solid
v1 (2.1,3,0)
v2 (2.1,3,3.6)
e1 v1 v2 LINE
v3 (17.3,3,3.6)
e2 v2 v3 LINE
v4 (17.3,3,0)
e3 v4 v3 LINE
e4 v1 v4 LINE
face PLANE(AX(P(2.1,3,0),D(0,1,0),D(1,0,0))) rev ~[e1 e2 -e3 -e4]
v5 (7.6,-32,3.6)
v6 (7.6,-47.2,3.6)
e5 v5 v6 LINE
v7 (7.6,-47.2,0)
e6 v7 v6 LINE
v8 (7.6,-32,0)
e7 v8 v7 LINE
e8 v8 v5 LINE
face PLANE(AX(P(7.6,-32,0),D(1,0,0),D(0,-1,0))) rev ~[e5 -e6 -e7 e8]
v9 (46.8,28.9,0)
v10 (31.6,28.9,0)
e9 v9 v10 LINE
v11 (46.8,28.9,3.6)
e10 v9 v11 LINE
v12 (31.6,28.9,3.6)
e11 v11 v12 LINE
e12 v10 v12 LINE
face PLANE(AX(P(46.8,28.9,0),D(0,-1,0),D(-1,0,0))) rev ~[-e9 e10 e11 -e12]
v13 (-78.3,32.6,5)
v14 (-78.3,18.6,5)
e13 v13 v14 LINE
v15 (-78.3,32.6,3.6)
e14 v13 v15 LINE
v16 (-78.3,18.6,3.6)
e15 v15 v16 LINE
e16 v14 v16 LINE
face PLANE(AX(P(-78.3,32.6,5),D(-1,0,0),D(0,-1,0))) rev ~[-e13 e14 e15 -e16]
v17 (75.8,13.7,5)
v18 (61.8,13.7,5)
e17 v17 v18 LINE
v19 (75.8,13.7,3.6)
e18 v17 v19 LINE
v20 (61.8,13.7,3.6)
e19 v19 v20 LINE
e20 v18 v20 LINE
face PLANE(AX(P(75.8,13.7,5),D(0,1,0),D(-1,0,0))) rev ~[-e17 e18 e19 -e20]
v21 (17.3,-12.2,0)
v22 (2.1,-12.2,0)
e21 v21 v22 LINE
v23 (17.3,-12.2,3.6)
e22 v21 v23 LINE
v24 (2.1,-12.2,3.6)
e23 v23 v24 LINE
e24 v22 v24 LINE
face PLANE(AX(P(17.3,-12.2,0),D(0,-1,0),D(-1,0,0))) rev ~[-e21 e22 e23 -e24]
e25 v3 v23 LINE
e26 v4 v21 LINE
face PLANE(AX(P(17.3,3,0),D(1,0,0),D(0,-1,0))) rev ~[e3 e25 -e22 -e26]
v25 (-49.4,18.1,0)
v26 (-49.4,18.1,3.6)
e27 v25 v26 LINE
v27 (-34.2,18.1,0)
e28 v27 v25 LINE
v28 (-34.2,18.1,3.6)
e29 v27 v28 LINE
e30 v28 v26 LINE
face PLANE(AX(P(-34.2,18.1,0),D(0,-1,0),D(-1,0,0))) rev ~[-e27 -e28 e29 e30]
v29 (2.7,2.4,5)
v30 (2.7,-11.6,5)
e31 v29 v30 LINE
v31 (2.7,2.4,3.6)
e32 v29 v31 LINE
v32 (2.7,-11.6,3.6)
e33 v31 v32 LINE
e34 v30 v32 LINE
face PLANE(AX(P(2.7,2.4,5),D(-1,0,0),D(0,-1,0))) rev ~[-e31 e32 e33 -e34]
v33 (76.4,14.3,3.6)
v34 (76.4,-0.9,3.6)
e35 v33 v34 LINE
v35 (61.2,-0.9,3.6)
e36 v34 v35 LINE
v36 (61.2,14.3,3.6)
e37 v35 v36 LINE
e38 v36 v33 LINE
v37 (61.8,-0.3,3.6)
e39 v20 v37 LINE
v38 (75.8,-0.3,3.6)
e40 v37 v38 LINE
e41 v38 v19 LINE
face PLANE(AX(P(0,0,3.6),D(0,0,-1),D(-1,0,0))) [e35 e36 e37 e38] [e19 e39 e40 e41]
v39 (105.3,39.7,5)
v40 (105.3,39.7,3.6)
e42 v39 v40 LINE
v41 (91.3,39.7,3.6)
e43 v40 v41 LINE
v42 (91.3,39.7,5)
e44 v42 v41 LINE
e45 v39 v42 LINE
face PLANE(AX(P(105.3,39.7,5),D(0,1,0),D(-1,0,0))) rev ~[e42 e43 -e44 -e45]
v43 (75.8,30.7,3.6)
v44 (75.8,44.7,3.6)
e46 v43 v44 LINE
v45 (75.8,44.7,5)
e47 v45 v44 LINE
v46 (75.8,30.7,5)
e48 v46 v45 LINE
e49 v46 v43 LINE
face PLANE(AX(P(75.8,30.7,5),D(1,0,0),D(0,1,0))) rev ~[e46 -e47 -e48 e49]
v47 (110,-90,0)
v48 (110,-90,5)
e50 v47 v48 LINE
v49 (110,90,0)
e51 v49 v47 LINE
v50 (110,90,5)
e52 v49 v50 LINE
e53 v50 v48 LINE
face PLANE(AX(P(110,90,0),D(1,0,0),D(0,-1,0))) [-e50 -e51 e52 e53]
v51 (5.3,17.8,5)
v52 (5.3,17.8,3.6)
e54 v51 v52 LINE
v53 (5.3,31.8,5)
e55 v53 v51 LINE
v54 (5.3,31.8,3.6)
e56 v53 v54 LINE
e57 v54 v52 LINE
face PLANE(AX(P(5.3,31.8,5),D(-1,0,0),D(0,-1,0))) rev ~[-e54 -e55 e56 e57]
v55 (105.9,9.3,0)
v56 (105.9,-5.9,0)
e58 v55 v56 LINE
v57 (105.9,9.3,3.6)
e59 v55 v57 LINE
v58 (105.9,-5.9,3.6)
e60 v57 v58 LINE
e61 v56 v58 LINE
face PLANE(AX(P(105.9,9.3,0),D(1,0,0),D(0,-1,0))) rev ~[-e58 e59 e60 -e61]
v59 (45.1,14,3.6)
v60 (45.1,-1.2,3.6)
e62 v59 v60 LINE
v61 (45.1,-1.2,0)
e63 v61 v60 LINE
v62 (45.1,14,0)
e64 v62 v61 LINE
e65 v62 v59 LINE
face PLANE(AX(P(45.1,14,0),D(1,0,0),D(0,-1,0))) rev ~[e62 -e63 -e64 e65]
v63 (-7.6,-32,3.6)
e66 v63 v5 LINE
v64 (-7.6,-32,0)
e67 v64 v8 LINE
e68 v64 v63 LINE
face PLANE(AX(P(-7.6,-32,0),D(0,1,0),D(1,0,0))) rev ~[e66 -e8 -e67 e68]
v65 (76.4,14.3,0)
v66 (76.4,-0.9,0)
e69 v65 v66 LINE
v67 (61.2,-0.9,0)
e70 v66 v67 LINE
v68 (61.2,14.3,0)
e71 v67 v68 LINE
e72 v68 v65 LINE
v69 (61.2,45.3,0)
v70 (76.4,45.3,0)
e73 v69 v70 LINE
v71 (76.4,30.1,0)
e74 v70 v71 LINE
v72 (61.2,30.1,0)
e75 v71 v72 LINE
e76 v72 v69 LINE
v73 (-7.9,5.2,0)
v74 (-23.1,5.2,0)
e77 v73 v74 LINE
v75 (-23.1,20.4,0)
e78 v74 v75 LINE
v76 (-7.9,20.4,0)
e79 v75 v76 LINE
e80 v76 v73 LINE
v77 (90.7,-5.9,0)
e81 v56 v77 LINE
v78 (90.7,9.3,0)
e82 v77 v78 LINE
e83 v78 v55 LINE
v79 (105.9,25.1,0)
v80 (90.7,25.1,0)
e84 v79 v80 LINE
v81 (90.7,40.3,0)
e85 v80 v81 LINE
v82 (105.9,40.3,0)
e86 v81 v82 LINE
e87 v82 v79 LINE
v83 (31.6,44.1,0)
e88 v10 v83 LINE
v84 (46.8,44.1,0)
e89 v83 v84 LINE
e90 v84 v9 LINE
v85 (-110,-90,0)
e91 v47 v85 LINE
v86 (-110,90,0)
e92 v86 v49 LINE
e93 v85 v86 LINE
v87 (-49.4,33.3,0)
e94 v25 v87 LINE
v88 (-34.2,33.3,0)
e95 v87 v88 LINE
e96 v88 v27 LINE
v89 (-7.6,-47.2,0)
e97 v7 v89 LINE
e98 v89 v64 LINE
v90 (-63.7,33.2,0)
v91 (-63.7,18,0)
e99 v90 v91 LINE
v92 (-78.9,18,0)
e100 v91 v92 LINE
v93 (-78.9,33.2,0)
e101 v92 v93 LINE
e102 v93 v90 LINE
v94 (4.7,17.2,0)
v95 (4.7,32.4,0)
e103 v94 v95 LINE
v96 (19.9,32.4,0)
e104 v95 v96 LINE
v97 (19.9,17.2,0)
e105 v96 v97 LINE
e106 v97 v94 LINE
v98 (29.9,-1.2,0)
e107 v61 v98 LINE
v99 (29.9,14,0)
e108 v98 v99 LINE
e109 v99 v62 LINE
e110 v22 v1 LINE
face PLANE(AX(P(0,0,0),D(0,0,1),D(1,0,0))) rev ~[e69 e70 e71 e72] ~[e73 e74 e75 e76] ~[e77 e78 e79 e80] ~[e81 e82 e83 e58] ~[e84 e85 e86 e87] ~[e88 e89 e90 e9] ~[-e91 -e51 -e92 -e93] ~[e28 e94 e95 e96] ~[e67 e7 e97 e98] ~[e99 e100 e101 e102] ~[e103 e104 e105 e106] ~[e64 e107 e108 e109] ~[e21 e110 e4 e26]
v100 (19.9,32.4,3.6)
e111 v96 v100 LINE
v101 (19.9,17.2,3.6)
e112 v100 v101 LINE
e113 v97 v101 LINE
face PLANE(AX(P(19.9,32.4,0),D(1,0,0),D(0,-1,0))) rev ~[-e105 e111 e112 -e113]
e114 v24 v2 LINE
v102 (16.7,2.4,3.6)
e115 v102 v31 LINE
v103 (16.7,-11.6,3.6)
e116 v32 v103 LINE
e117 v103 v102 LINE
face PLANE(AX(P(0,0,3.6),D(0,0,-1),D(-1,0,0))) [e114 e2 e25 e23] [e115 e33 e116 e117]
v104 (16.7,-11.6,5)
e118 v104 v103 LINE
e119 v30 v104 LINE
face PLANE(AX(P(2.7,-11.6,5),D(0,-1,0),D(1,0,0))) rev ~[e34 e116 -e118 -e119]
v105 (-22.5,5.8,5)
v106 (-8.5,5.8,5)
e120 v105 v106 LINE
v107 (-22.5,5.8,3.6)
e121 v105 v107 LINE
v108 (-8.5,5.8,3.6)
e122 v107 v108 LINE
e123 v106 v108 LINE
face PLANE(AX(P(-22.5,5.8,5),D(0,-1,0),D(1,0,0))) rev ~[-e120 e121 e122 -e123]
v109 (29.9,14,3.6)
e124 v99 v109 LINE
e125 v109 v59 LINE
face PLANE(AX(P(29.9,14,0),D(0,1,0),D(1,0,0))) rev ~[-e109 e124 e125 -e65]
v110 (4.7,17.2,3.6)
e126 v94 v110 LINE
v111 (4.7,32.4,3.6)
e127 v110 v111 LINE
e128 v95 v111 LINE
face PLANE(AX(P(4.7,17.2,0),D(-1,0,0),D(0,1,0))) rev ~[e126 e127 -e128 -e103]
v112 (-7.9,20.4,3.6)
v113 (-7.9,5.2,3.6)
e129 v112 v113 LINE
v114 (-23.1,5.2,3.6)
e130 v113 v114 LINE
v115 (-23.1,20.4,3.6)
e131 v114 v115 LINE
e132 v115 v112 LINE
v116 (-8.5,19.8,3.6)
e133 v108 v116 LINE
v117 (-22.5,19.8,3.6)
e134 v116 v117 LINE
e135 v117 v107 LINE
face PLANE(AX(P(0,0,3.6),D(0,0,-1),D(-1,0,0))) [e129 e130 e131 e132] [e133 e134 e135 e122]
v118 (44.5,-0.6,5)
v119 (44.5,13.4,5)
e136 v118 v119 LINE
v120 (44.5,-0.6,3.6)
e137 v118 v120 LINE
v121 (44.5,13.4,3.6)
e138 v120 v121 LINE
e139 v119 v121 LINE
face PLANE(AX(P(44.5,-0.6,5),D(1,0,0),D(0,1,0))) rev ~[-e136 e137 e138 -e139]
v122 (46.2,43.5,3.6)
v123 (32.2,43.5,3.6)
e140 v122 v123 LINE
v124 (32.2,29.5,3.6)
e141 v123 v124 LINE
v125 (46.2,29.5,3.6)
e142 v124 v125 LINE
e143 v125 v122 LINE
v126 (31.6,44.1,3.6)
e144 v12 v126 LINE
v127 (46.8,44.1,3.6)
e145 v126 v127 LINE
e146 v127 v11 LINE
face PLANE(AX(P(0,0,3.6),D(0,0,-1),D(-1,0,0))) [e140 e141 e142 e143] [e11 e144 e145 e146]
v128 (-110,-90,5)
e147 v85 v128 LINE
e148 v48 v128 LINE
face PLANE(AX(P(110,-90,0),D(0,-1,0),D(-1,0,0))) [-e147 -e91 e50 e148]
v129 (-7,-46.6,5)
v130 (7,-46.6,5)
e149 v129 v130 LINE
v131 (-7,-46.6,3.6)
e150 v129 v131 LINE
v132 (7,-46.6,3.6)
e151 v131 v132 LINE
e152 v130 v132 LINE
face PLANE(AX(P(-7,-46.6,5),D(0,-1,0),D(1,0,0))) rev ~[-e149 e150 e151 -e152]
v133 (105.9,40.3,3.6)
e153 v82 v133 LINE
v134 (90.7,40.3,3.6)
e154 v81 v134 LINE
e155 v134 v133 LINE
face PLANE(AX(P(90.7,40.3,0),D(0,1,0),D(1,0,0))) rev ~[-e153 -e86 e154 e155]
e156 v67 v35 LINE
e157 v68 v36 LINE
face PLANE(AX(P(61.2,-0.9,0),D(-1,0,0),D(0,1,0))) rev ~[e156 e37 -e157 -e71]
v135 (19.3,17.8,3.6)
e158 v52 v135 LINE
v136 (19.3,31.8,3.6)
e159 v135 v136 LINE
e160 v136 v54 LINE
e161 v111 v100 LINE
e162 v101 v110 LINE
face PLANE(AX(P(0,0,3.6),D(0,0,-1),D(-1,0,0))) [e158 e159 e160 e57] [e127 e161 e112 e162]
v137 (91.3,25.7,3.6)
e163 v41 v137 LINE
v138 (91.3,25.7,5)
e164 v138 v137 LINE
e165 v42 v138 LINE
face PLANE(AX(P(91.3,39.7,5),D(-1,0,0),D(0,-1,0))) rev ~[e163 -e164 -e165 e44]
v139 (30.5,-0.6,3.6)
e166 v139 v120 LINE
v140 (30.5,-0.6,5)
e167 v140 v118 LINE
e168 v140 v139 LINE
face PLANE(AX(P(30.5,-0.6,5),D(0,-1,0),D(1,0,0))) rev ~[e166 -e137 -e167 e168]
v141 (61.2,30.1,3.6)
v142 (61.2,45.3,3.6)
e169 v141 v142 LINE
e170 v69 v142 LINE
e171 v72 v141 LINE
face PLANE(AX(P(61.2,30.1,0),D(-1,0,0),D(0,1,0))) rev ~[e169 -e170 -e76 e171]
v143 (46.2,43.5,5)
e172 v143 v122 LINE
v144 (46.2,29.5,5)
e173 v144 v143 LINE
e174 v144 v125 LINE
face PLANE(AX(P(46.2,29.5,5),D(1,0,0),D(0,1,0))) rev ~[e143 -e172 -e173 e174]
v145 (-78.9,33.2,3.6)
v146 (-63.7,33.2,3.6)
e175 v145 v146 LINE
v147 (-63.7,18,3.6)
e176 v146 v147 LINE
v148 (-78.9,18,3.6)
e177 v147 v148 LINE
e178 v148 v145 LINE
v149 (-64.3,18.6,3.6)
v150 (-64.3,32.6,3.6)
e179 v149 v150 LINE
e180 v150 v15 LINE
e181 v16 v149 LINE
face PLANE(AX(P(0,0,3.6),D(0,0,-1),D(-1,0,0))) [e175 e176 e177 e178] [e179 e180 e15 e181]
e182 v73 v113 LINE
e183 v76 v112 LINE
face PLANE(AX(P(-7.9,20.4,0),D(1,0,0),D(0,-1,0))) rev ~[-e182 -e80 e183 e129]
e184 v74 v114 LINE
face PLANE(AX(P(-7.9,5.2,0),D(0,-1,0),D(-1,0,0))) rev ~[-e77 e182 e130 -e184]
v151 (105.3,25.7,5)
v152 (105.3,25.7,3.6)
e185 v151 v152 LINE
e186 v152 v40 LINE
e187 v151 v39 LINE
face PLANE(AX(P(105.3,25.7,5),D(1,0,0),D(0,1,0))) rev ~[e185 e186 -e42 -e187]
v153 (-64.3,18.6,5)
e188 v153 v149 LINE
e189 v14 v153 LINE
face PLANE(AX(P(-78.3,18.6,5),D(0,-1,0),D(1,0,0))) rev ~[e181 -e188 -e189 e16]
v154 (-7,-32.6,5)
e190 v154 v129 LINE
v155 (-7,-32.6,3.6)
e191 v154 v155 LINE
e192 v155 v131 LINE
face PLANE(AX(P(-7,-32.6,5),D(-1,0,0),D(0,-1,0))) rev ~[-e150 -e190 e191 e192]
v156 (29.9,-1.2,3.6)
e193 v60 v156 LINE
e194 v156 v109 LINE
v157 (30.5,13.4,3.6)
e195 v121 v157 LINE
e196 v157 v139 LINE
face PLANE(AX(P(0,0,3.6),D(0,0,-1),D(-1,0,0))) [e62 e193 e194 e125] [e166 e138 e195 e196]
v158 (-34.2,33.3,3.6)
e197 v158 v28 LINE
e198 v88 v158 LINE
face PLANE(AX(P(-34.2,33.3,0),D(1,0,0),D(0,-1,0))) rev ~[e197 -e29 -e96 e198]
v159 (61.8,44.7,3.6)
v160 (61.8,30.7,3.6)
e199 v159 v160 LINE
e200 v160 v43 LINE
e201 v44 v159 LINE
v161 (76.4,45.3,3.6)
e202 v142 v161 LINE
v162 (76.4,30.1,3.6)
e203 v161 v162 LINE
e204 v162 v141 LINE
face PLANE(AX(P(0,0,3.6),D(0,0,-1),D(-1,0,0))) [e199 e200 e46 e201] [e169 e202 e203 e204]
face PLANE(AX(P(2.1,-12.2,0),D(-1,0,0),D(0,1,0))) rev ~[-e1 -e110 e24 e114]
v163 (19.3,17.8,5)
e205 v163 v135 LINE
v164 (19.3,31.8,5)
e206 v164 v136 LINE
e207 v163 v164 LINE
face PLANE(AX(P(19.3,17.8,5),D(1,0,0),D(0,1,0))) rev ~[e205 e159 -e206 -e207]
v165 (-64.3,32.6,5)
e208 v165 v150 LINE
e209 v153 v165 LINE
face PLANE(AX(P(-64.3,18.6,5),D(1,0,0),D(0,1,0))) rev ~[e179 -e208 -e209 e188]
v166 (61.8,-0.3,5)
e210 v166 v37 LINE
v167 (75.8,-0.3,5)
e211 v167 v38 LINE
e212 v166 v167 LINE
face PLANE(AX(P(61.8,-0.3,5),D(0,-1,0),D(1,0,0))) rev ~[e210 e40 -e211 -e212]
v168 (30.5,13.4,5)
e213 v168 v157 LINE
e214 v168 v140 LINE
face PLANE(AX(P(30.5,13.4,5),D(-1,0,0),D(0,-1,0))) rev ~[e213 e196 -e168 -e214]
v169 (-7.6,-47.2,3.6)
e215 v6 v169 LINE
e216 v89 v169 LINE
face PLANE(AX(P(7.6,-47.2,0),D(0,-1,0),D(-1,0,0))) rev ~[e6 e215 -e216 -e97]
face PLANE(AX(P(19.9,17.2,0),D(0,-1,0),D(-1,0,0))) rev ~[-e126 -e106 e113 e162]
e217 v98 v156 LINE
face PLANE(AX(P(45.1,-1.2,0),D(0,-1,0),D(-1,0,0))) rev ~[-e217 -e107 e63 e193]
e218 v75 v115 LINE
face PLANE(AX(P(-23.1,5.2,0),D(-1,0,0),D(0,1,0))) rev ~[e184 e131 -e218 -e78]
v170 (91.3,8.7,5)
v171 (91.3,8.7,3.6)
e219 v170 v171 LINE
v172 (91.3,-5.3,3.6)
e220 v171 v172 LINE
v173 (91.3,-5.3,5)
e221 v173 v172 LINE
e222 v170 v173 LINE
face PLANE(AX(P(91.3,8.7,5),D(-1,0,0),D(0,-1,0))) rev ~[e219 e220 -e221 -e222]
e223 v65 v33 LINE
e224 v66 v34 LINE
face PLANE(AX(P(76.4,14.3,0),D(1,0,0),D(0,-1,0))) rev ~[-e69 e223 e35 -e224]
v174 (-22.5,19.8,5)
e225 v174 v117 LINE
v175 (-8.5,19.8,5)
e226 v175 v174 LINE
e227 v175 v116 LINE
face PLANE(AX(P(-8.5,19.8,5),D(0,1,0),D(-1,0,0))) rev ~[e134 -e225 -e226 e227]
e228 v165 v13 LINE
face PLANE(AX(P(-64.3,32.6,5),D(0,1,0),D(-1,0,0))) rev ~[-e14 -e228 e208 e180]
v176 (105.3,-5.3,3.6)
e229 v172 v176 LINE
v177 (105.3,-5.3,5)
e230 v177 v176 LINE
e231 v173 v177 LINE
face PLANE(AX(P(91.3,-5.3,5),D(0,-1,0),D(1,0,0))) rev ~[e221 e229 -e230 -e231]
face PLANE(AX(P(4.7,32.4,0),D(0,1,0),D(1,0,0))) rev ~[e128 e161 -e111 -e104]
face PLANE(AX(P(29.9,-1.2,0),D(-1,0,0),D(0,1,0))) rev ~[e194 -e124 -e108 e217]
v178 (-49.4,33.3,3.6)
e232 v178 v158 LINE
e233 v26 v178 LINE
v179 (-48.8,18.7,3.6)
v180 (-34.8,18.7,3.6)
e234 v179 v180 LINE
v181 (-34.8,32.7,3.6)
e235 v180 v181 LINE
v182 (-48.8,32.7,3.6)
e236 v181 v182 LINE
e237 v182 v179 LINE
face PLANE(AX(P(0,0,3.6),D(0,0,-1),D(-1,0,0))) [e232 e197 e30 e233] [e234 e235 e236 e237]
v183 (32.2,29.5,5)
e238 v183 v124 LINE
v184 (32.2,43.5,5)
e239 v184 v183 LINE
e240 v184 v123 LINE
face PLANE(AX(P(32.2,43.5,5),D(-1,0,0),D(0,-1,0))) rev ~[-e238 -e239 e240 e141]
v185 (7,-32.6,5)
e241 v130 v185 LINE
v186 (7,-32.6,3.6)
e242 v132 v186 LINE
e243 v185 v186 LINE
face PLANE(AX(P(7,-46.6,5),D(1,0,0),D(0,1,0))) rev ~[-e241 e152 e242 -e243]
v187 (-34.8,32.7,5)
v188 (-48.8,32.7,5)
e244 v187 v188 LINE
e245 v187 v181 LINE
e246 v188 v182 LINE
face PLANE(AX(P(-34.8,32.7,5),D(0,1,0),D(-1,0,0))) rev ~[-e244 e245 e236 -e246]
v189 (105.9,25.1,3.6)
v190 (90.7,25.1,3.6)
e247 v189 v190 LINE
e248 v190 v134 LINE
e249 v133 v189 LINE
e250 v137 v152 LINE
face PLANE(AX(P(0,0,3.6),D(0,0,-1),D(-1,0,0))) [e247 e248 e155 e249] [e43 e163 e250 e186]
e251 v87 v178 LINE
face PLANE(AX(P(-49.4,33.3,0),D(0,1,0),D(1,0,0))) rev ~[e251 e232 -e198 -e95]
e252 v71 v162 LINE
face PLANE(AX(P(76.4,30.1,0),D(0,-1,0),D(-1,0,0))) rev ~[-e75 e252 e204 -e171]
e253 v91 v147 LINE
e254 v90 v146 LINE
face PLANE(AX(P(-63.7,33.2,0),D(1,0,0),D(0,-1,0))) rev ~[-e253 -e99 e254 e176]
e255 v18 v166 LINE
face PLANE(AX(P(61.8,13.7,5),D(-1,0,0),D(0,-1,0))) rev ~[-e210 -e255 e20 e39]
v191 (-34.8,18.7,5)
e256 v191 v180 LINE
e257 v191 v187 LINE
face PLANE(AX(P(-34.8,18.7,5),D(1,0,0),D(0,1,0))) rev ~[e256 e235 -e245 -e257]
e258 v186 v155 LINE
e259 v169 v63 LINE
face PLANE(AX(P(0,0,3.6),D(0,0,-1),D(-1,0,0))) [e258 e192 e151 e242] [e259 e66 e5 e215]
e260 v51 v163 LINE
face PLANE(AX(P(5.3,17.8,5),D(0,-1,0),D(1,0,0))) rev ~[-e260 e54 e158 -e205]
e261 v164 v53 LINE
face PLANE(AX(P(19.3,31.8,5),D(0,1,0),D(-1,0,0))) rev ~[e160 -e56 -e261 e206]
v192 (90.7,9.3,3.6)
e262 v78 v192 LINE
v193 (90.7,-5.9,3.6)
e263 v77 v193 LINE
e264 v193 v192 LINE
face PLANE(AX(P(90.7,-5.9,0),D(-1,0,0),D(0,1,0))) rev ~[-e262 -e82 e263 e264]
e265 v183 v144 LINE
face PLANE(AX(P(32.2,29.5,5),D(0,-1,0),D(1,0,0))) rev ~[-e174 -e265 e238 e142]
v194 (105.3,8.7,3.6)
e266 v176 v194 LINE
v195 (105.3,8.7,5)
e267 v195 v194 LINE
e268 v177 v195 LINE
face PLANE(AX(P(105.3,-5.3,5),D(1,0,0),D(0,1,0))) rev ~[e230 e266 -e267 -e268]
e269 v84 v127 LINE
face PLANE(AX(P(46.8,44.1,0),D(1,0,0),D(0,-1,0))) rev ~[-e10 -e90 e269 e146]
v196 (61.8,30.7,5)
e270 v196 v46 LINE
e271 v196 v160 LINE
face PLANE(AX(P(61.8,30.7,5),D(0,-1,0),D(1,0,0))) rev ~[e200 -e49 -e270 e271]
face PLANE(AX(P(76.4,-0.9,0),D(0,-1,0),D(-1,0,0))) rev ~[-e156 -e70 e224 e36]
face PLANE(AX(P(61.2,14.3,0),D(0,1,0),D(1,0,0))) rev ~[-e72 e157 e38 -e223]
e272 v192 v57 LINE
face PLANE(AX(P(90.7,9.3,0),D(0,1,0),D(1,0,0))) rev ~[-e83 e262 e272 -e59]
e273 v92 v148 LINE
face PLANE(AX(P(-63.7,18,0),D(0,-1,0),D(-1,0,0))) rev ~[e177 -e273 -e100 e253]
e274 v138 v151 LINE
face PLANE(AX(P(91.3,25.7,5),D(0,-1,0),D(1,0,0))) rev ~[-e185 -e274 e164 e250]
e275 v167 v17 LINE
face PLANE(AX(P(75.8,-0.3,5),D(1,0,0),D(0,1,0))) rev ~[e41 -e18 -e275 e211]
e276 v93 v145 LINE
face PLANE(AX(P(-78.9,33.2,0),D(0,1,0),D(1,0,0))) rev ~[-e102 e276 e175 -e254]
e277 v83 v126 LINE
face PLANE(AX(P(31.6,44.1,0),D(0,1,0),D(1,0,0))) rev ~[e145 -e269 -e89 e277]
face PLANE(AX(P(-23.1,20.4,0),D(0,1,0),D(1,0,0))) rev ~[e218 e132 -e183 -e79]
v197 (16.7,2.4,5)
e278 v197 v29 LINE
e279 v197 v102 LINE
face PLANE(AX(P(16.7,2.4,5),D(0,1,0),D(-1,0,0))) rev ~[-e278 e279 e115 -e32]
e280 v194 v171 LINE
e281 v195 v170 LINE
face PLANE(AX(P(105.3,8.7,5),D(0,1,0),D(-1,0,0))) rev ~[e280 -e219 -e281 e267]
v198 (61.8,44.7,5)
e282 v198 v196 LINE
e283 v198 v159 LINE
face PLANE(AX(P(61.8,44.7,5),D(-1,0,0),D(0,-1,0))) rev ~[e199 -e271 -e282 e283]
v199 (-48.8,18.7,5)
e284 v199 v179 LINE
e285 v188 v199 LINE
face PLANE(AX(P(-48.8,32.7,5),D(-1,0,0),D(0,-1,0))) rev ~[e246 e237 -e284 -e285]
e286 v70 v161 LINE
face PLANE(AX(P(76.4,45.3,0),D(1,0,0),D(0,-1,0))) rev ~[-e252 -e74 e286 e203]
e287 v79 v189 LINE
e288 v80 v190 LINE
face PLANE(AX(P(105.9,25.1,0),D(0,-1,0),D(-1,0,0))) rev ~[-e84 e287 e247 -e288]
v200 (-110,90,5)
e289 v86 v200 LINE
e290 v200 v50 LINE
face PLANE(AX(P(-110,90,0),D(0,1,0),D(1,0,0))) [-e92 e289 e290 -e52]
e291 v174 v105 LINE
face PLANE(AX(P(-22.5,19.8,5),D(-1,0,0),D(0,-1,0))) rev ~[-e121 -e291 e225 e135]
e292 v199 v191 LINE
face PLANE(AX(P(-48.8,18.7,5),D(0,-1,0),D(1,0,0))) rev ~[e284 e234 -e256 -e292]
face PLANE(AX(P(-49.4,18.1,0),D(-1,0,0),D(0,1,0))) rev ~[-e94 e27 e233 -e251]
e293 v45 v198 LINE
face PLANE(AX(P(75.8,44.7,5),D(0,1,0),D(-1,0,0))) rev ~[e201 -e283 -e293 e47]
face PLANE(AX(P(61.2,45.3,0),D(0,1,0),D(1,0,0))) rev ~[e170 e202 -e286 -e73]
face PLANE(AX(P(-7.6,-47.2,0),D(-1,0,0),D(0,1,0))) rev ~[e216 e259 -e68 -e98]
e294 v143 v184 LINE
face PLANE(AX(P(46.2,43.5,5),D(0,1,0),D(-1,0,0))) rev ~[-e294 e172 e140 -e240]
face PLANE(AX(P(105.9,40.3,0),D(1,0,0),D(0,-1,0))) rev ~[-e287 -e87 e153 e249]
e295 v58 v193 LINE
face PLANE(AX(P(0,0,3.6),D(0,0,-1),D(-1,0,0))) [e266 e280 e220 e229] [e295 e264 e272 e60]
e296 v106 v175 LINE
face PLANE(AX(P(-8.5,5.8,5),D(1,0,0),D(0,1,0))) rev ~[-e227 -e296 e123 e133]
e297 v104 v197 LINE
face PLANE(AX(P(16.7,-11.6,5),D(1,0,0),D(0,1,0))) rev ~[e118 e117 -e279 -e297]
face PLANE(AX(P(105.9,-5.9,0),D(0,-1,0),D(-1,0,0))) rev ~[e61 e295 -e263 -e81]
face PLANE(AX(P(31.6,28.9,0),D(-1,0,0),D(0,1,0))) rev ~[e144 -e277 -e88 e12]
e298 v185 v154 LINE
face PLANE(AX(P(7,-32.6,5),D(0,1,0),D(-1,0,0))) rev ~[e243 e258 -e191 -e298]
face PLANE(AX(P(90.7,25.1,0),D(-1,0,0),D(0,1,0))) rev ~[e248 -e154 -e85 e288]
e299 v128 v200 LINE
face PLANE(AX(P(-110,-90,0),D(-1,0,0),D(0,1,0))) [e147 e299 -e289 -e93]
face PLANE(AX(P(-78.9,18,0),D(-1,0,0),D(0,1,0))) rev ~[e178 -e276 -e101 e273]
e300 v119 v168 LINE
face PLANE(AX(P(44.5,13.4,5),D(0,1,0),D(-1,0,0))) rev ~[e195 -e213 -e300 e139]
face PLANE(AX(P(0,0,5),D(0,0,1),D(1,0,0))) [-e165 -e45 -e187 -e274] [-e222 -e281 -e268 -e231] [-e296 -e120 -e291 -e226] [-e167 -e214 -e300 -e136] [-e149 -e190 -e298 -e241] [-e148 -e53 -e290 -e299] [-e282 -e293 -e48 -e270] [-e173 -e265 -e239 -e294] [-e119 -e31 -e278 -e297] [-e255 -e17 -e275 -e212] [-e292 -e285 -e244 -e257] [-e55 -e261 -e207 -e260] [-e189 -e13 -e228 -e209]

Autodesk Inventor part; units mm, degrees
ref_plane "YZ Plane" through (0, 0, 0) normal (1, 0, 0) x (0, 1, 0)
ref_plane "XZ Plane" through (0, 0, 0) normal (0, 1, 0) x (-1, 0, 0)
ref_plane "XY Plane" through (0, 0, 0) normal (0, 0, 1) x (1, 0, 0)
sketch "Sketch1" plane through (0, 0, 0) normal (0, 0, 1) x (1, 0, 0)
  line L0 (-110, 90) -> (110, 90)
  line L1 (110, 90) -> (110, -90)
  line L2 (110, -90) -> (-110, -90)
  line L3 (-110, -90) -> (-110, 90)
  line L4 (-110, 90) -> (110, -90) construction
  line L5 (110, 90) -> (-110, -90) construction
  point P0 (0, 0)
  dimension "d0" = 220
  dimension "d1" = 180
extrude "Extrusion1" add sketch "Sketch1" along normal blind 5
sketch "Sketch2" plane through (0, 0, 5) normal (0, 0, 1) x (1, 0, 0)
  line L0 (-110, -90) -> (110, -90) projected
  point P0 (0, 0)
  point P1 (0, -39.6)
  point P2 (-15.5, 12.8)
  point P3 (-41.8, 25.7)
  point P4 (-71.3, 25.6)
  point P5 (9.7, -4.6)
  point P6 (12.3, 24.8)
  point P7 (37.5, 6.4)
  point P8 (39.2, 36.5)
  point P9 (68.8, 6.7)
  point P10 (68.8, 37.7)
  point P11 (98.3, 1.7)
  point P12 (98.3, 32.7)
  dimension "d4" = 50.4
  dimension "d5" = 15.5
  dimension "d6" = 26.3
  dimension "d7" = 29.5
  dimension "d11" = 52.4
  dimension "d12" = 65.3
  dimension "d13" = 65.2
  dimension "d14" = 9.7
  dimension "d15" = 29.4
  dimension "d16" = 2.6
  dimension "d17" = 26.9
  dimension "d18" = 29.6
  dimension "d19" = 29.5
  dimension "d20" = 1.7
  dimension "d22" = 46
  dimension "d23" = 30.1
  dimension "d24" = 96.7
  dimension "d25" = 91.7
  dimension "d26" = 31
  dimension "d27" = 31
  dimension "d28" = 35
hole "Hole1" at (0, -39.6, 5) at (-15.5, 12.8, 5) at (-41.8, 25.7, 5) at (-71.3, 25.6, 5) at (9.7, -4.6, 5) at (12.3, 24.8, 5) at (37.5, 6.4, 5) at (39.2, 36.5, 5) at (68.8, 6.7, 5) at (68.8, 37.7, 5) at (98.3, 1.7, 5) at (98.3, 32.7, 5) direction (0, 0, -1) diameter 3 end through all
sketch "Sketch3" plane through (0, 0, 5) normal (0, 0, 1) x (1, 0, 0)
  circle A0 centre (98.3, 1.7) radius 1.5 construction
  circle A1 centre (68.8, 6.7) radius 1.5 construction
  circle A2 centre (37.5, 6.4) radius 1.5 construction
  circle A3 centre (9.7, -4.6) radius 1.5 construction
  circle A4 centre (-41.8, 25.7) radius 1.5 construction
  circle A5 centre (0, -39.6) radius 1.5 construction
  circle A6 centre (-15.5, 12.8) radius 1.5 construction
  circle A7 centre (-71.3, 25.6) radius 1.5 construction
  circle A8 centre (12.3, 24.8) radius 1.5 construction
  circle A9 centre (39.2, 36.5) radius 1.5 construction
  circle A10 centre (68.8, 37.7) radius 1.5 construction
  circle A11 centre (98.3, 32.7) radius 1.5 construction
  line L0 (-110, -90) -> (110, -90) projected
  line L1 (110, -90) -> (110, 90) projected
  line L2 (110, 90) -> (-110, 90) projected
  line L3 (-110, 90) -> (-110, -90) projected
  line L4 (7, -32.6) -> (-7, -32.6)
  line L5 (-7, -32.6) -> (-7, -46.6)
  line L6 (-7, -46.6) -> (7, -46.6)
  line L7 (7, -46.6) -> (7, -32.6)
  circle A12 centre (0, -39.6) radius 1.5 construction
  line L8 (7, -32.6) -> (-7, -46.6) construction
  line L9 (-7, -32.6) -> (7, -46.6) construction
  line L10 (-8.5, 19.8) -> (-22.5, 19.8)
  line L11 (-22.5, 19.8) -> (-22.5, 5.8)
  line L12 (-22.5, 5.8) -> (-8.5, 5.8)
  line L13 (-8.5, 5.8) -> (-8.5, 19.8)
  line L14 (-8.5, 19.8) -> (-22.5, 5.8) construction
  line L15 (-22.5, 19.8) -> (-8.5, 5.8) construction
  line L16 (-34.8, 32.7) -> (-48.8, 32.7)
  line L17 (-48.8, 32.7) -> (-48.8, 18.7)
  line L18 (-48.8, 18.7) -> (-34.8, 18.7)
  line L19 (-34.8, 18.7) -> (-34.8, 32.7)
  line L20 (-34.8, 32.7) -> (-48.8, 18.7) construction
  line L21 (-48.8, 32.7) -> (-34.8, 18.7) construction
  line L22 (-64.3, 32.6) -> (-78.3, 32.6)
  line L23 (-78.3, 32.6) -> (-78.3, 18.6)
  line L24 (-78.3, 18.6) -> (-64.3, 18.6)
  line L25 (-64.3, 18.6) -> (-64.3, 32.6)
  line L26 (-64.3, 32.6) -> (-78.3, 18.6) construction
  line L27 (-78.3, 32.6) -> (-64.3, 18.6) construction
  line L28 (2.7, 2.4) -> (2.7, -11.6)
  line L29 (16.7, 2.4) -> (2.7, 2.4)
  line L30 (2.7, 2.4) -> (16.7, -11.6) construction
  line L31 (2.7, -11.6) -> (16.7, -11.6)
  line L32 (16.7, 2.4) -> (2.7, -11.6) construction
  line L33 (16.7, -11.6) -> (16.7, 2.4)
  line L34 (5.3, 31.8) -> (5.3, 17.8)
  line L35 (19.3, 31.8) -> (5.3, 31.8)
  line L36 (5.3, 31.8) -> (19.3, 17.8) construction
  line L37 (5.3, 17.8) -> (19.3, 17.8)
  line L38 (19.3, 31.8) -> (5.3, 17.8) construction
  line L39 (19.3, 17.8) -> (19.3, 31.8)
  line L40 (30.5, 13.4) -> (30.5, -0.6)
  line L41 (44.5, 13.4) -> (30.5, 13.4)
  line L42 (30.5, 13.4) -> (44.5, -0.6) construction
  line L43 (30.5, -0.6) -> (44.5, -0.6)
  line L44 (44.5, 13.4) -> (30.5, -0.6) construction
  line L45 (44.5, -0.6) -> (44.5, 13.4)
  line L46 (32.2, 43.5) -> (32.2, 29.5)
  line L47 (46.2, 43.5) -> (32.2, 43.5)
  line L48 (32.2, 43.5) -> (46.2, 29.5) construction
  line L49 (32.2, 29.5) -> (46.2, 29.5)
  line L50 (46.2, 43.5) -> (32.2, 29.5) construction
  line L51 (46.2, 29.5) -> (46.2, 43.5)
  line L52 (61.8, 13.7) -> (61.8, -0.3)
  line L53 (75.8, 13.7) -> (61.8, 13.7)
  line L54 (61.8, 13.7) -> (75.8, -0.3) construction
  line L55 (61.8, -0.3) -> (75.8, -0.3)
  line L56 (75.8, 13.7) -> (61.8, -0.3) construction
  line L57 (75.8, -0.3) -> (75.8, 13.7)
  line L58 (61.8, 44.7) -> (61.8, 30.7)
  line L59 (75.8, 44.7) -> (61.8, 44.7)
  line L60 (61.8, 44.7) -> (75.8, 30.7) construction
  line L61 (61.8, 30.7) -> (75.8, 30.7)
  line L62 (75.8, 44.7) -> (61.8, 30.7) construction
  line L63 (75.8, 30.7) -> (75.8, 44.7)
  line L64 (91.3, 8.7) -> (91.3, -5.3)
  line L65 (105.3, 8.7) -> (91.3, 8.7)
  line L66 (91.3, 8.7) -> (105.3, -5.3) construction
  line L67 (91.3, -5.3) -> (105.3, -5.3)
  line L68 (105.3, 8.7) -> (91.3, -5.3) construction
  line L69 (105.3, -5.3) -> (105.3, 8.7)
  line L70 (91.3, 39.7) -> (91.3, 25.7)
  line L71 (105.3, 39.7) -> (91.3, 39.7)
  line L72 (91.3, 39.7) -> (105.3, 25.7) construction
  line L73 (91.3, 25.7) -> (105.3, 25.7)
  line L74 (105.3, 39.7) -> (91.3, 25.7) construction
  line L75 (105.3, 25.7) -> (105.3, 39.7)
  point P0 (0, 0)
  point P1 (-15.5, 12.8)
  point P2 (9.7, -4.6)
  point P3 (37.5, 6.4)
  point P4 (68.8, 6.7)
  point P5 (68.8, 37.7)
  point P6 (98.3, 1.7)
  dimension "d36" = 14
extrude "Extrusion2" cut sketch "Sketch3" against normal through all contours L7 L6 L5 L4 | L13 L12 L11 L10 | L19 L18 L17 L16 | L25 L24 L23 L22 | L29 L33 L31 L28 | L35 L39 L37 L34 | L41 L45 L43 L40 | L47 L51 L49 L46 | L53 L57 L55 L52 | L59 L63 L61 L58 | L65 L69 L67 L64 | L71 L75 L73 L70
sketch "Sketch4" plane through (0, 0, 0) normal (0, 0, -1) x (-1, 0, 0)
  line L0 (8.5, 5.8) -> (8.5, 19.8) construction
  line L1 (8.5, 19.8) -> (22.5, 19.8) construction
  line L2 (22.5, 19.8) -> (22.5, 5.8) construction
  line L3 (22.5, 5.8) -> (8.5, 5.8) construction
  line L4 (-46.2, 29.5) -> (-46.2, 43.5) construction
  line L5 (-46.2, 43.5) -> (-32.2, 43.5) construction
  line L6 (-32.2, 43.5) -> (-32.2, 29.5) construction
  line L7 (-32.2, 29.5) -> (-46.2, 29.5) construction
  line L8 (-105.3, 25.7) -> (-105.3, 39.7) construction
  line L9 (-105.3, 39.7) -> (-91.3, 39.7) construction
  line L10 (-91.3, 39.7) -> (-91.3, 25.7) construction
  line L11 (-91.3, 25.7) -> (-105.3, 25.7) construction
  line L12 (-75.8, 30.7) -> (-75.8, 44.7) construction
  line L13 (-75.8, 44.7) -> (-61.8, 44.7) construction
  line L14 (-61.8, 44.7) -> (-61.8, 30.7) construction
  line L15 (-61.8, 30.7) -> (-75.8, 30.7) construction
  line L16 (-19.3, 17.8) -> (-19.3, 31.8) construction
  line L17 (-19.3, 31.8) -> (-5.3, 31.8) construction
  line L18 (-5.3, 31.8) -> (-5.3, 17.8) construction
  line L19 (-5.3, 17.8) -> (-19.3, 17.8) construction
  line L20 (34.8, 18.7) -> (34.8, 32.7) construction
  line L21 (34.8, 32.7) -> (48.8, 32.7) construction
  line L22 (48.8, 32.7) -> (48.8, 18.7) construction
  line L23 (48.8, 18.7) -> (34.8, 18.7) construction
  line L24 (-16.7, -11.6) -> (-16.7, 2.4) construction
  line L25 (-16.7, 2.4) -> (-2.7, 2.4) construction
  line L26 (-2.7, 2.4) -> (-2.7, -11.6) construction
  line L27 (-2.7, -11.6) -> (-16.7, -11.6) construction
  line L28 (-44.5, -0.6) -> (-44.5, 13.4) construction
  line L29 (-44.5, 13.4) -> (-30.5, 13.4) construction
  line L30 (-30.5, 13.4) -> (-30.5, -0.6) construction
  line L31 (-30.5, -0.6) -> (-44.5, -0.6) construction
  line L32 (-105.3, -5.3) -> (-105.3, 8.7) construction
  line L33 (-105.3, 8.7) -> (-91.3, 8.7) construction
  line L34 (-91.3, 8.7) -> (-91.3, -5.3) construction
  line L35 (-91.3, -5.3) -> (-105.3, -5.3) construction
  line L36 (-75.8, -0.3) -> (-75.8, 13.7) construction
  line L37 (-75.8, 13.7) -> (-61.8, 13.7) construction
  line L38 (-61.8, 13.7) -> (-61.8, -0.3) construction
  line L39 (-61.8, -0.3) -> (-75.8, -0.3) construction
  line L40 (7, -46.6) -> (-7, -46.6) construction
  line L41 (-7, -46.6) -> (-7, -32.6) construction
  line L42 (-7, -32.6) -> (7, -32.6) construction
  line L43 (7, -32.6) -> (7, -46.6) construction
  line L44 (64.3, 18.6) -> (64.3, 32.6) construction
  line L45 (64.3, 32.6) -> (78.3, 32.6) construction
  line L46 (78.3, 32.6) -> (78.3, 18.6) construction
  line L47 (78.3, 18.6) -> (64.3, 18.6) construction
  line L48 (110, -90) -> (-110, -90) construction
  line L49 (110, 90) -> (110, -90) construction
  line L50 (-110, 90) -> (110, 90) construction
  line L51 (-110, -90) -> (-110, 90) construction
  line L52 (-7.6, -47.2) -> (7.6, -47.2)
  line L53 (7.6, -47.2) -> (7.6, -32)
  line L54 (7.6, -32) -> (-7.6, -32)
  line L55 (-7.6, -32) -> (-7.6, -47.2)
  line L56 (-7.6, -47.2) -> (7.6, -32) construction
  line L57 (7.6, -47.2) -> (-7.6, -32) construction
  line L58 (7.9, 5.2) -> (23.1, 5.2)
  line L59 (23.1, 5.2) -> (23.1, 20.4)
  line L60 (23.1, 20.4) -> (7.9, 20.4)
  line L61 (7.9, 20.4) -> (7.9, 5.2)
  line L62 (7.9, 5.2) -> (23.1, 20.4) construction
  line L63 (23.1, 5.2) -> (7.9, 20.4) construction
  line L64 (34.2, 18.1) -> (49.4, 18.1)
  line L65 (49.4, 18.1) -> (49.4, 33.3)
  line L66 (49.4, 33.3) -> (34.2, 33.3)
  line L67 (34.2, 33.3) -> (34.2, 18.1)
  line L68 (34.2, 18.1) -> (49.4, 33.3) construction
  line L69 (49.4, 18.1) -> (34.2, 33.3) construction
  line L70 (63.7, 18) -> (78.9, 18)
  line L71 (78.9, 18) -> (78.9, 33.2)
  line L72 (78.9, 33.2) -> (63.7, 33.2)
  line L73 (63.7, 33.2) -> (63.7, 18)
  line L74 (63.7, 18) -> (78.9, 33.2) construction
  line L75 (78.9, 18) -> (63.7, 33.2) construction
  line L76 (-2.1, -12.2) -> (-17.3, 3) construction
  line L77 (-2.1, -12.2) -> (-2.1, 3)
  line L78 (-17.3, -12.2) -> (-2.1, 3) construction
  line L79 (-17.3, -12.2) -> (-2.1, -12.2)
  line L80 (-17.3, 3) -> (-17.3, -12.2)
  line L81 (-2.1, 3) -> (-17.3, 3)
  line L82 (-4.7, 17.2) -> (-19.9, 32.4) construction
  line L83 (-4.7, 17.2) -> (-4.7, 32.4)
  line L84 (-19.9, 17.2) -> (-4.7, 32.4) construction
  line L85 (-19.9, 17.2) -> (-4.7, 17.2)
  line L86 (-19.9, 32.4) -> (-19.9, 17.2)
  line L87 (-4.7, 32.4) -> (-19.9, 32.4)
  line L88 (-29.9, -1.2) -> (-45.1, 14) construction
  line L89 (-29.9, -1.2) -> (-29.9, 14)
  line L90 (-45.1, -1.2) -> (-29.9, 14) construction
  line L91 (-45.1, -1.2) -> (-29.9, -1.2)
  line L92 (-45.1, 14) -> (-45.1, -1.2)
  line L93 (-29.9, 14) -> (-45.1, 14)
  line L94 (-31.6, 28.9) -> (-46.8, 44.1) construction
  line L95 (-31.6, 28.9) -> (-31.6, 44.1)
  line L96 (-46.8, 28.9) -> (-31.6, 44.1) construction
  line L97 (-46.8, 28.9) -> (-31.6, 28.9)
  line L98 (-46.8, 44.1) -> (-46.8, 28.9)
  line L99 (-31.6, 44.1) -> (-46.8, 44.1)
  line L100 (-61.2, -0.9) -> (-76.4, 14.3) construction
  line L101 (-61.2, -0.9) -> (-61.2, 14.3)
  line L102 (-76.4, -0.9) -> (-61.2, 14.3) construction
  line L103 (-76.4, -0.9) -> (-61.2, -0.9)
  line L104 (-76.4, 14.3) -> (-76.4, -0.9)
  line L105 (-61.2, 14.3) -> (-76.4, 14.3)
  line L106 (-61.2, 30.1) -> (-76.4, 45.3) construction
  line L107 (-61.2, 30.1) -> (-61.2, 45.3)
  line L108 (-76.4, 30.1) -> (-61.2, 45.3) construction
  line L109 (-76.4, 30.1) -> (-61.2, 30.1)
  line L110 (-76.4, 45.3) -> (-76.4, 30.1)
  line L111 (-61.2, 45.3) -> (-76.4, 45.3)
  line L112 (-90.7, 25.1) -> (-105.9, 40.3) construction
  line L113 (-90.7, 25.1) -> (-90.7, 40.3)
  line L114 (-105.9, 25.1) -> (-90.7, 40.3) construction
  line L115 (-105.9, 25.1) -> (-90.7, 25.1)
  line L116 (-105.9, 40.3) -> (-105.9, 25.1)
  line L117 (-90.7, 40.3) -> (-105.9, 40.3)
  line L118 (-90.7, -5.9) -> (-105.9, 9.3) construction
  line L119 (-90.7, -5.9) -> (-90.7, 9.3)
  line L120 (-105.9, -5.9) -> (-90.7, 9.3) construction
  line L121 (-105.9, -5.9) -> (-90.7, -5.9)
  line L122 (-105.9, 9.3) -> (-105.9, -5.9)
  line L123 (-90.7, 9.3) -> (-105.9, 9.3)
  point P0 (0, 0)
  point P1 (0, -39.6)
  point P2 (15.5, 12.8)
  point P3 (41.8, 25.7)
  point P4 (71.3, 25.6)
  point P5 (-9.7, -4.6)
  point P6 (-12.3, 24.8)
  point P7 (-37.5, 6.4)
  point P8 (-39.2, 36.5)
  point P9 (-68.8, 6.7)
  point P10 (-68.8, 37.7)
  point P11 (-98.3, 32.7)
  point P12 (-98.3, 1.7)
  point P13 (0, -32.6)
  point P14 (15.5, 19.8)
  point P15 (41.8, 32.7)
  point P16 (71.3, 32.6)
  point P17 (-9.7, 2.4)
  point P18 (-12.3, 31.8)
  point P19 (-39.2, 43.5)
  point P20 (-68.8, 44.7)
  point P21 (-37.5, 13.4)
  point P22 (-68.8, 13.7)
  point P23 (-98.3, 8.7)
  point P24 (-98.3, 39.7)
  point P25 (-91.3, 32.7)
  point P26 (-91.3, 1.7)
  point P27 (-61.8, 6.7)
  point P28 (-61.8, 37.7)
  point P29 (-46.2, 36.5)
  point P30 (-30.5, 6.4)
  point P31 (-5.3, 24.8)
  point P32 (-2.7, -4.6)
  point P33 (22.5, 12.8)
  point P34 (48.8, 25.7)
  point P35 (78.3, 25.6)
  point P36 (7, -39.6)
  dimension "d46" = 15.2
extrude "Extrusion3" cut sketch "Sketch4" against normal blind 3.6
properties part number "Top Plate"
